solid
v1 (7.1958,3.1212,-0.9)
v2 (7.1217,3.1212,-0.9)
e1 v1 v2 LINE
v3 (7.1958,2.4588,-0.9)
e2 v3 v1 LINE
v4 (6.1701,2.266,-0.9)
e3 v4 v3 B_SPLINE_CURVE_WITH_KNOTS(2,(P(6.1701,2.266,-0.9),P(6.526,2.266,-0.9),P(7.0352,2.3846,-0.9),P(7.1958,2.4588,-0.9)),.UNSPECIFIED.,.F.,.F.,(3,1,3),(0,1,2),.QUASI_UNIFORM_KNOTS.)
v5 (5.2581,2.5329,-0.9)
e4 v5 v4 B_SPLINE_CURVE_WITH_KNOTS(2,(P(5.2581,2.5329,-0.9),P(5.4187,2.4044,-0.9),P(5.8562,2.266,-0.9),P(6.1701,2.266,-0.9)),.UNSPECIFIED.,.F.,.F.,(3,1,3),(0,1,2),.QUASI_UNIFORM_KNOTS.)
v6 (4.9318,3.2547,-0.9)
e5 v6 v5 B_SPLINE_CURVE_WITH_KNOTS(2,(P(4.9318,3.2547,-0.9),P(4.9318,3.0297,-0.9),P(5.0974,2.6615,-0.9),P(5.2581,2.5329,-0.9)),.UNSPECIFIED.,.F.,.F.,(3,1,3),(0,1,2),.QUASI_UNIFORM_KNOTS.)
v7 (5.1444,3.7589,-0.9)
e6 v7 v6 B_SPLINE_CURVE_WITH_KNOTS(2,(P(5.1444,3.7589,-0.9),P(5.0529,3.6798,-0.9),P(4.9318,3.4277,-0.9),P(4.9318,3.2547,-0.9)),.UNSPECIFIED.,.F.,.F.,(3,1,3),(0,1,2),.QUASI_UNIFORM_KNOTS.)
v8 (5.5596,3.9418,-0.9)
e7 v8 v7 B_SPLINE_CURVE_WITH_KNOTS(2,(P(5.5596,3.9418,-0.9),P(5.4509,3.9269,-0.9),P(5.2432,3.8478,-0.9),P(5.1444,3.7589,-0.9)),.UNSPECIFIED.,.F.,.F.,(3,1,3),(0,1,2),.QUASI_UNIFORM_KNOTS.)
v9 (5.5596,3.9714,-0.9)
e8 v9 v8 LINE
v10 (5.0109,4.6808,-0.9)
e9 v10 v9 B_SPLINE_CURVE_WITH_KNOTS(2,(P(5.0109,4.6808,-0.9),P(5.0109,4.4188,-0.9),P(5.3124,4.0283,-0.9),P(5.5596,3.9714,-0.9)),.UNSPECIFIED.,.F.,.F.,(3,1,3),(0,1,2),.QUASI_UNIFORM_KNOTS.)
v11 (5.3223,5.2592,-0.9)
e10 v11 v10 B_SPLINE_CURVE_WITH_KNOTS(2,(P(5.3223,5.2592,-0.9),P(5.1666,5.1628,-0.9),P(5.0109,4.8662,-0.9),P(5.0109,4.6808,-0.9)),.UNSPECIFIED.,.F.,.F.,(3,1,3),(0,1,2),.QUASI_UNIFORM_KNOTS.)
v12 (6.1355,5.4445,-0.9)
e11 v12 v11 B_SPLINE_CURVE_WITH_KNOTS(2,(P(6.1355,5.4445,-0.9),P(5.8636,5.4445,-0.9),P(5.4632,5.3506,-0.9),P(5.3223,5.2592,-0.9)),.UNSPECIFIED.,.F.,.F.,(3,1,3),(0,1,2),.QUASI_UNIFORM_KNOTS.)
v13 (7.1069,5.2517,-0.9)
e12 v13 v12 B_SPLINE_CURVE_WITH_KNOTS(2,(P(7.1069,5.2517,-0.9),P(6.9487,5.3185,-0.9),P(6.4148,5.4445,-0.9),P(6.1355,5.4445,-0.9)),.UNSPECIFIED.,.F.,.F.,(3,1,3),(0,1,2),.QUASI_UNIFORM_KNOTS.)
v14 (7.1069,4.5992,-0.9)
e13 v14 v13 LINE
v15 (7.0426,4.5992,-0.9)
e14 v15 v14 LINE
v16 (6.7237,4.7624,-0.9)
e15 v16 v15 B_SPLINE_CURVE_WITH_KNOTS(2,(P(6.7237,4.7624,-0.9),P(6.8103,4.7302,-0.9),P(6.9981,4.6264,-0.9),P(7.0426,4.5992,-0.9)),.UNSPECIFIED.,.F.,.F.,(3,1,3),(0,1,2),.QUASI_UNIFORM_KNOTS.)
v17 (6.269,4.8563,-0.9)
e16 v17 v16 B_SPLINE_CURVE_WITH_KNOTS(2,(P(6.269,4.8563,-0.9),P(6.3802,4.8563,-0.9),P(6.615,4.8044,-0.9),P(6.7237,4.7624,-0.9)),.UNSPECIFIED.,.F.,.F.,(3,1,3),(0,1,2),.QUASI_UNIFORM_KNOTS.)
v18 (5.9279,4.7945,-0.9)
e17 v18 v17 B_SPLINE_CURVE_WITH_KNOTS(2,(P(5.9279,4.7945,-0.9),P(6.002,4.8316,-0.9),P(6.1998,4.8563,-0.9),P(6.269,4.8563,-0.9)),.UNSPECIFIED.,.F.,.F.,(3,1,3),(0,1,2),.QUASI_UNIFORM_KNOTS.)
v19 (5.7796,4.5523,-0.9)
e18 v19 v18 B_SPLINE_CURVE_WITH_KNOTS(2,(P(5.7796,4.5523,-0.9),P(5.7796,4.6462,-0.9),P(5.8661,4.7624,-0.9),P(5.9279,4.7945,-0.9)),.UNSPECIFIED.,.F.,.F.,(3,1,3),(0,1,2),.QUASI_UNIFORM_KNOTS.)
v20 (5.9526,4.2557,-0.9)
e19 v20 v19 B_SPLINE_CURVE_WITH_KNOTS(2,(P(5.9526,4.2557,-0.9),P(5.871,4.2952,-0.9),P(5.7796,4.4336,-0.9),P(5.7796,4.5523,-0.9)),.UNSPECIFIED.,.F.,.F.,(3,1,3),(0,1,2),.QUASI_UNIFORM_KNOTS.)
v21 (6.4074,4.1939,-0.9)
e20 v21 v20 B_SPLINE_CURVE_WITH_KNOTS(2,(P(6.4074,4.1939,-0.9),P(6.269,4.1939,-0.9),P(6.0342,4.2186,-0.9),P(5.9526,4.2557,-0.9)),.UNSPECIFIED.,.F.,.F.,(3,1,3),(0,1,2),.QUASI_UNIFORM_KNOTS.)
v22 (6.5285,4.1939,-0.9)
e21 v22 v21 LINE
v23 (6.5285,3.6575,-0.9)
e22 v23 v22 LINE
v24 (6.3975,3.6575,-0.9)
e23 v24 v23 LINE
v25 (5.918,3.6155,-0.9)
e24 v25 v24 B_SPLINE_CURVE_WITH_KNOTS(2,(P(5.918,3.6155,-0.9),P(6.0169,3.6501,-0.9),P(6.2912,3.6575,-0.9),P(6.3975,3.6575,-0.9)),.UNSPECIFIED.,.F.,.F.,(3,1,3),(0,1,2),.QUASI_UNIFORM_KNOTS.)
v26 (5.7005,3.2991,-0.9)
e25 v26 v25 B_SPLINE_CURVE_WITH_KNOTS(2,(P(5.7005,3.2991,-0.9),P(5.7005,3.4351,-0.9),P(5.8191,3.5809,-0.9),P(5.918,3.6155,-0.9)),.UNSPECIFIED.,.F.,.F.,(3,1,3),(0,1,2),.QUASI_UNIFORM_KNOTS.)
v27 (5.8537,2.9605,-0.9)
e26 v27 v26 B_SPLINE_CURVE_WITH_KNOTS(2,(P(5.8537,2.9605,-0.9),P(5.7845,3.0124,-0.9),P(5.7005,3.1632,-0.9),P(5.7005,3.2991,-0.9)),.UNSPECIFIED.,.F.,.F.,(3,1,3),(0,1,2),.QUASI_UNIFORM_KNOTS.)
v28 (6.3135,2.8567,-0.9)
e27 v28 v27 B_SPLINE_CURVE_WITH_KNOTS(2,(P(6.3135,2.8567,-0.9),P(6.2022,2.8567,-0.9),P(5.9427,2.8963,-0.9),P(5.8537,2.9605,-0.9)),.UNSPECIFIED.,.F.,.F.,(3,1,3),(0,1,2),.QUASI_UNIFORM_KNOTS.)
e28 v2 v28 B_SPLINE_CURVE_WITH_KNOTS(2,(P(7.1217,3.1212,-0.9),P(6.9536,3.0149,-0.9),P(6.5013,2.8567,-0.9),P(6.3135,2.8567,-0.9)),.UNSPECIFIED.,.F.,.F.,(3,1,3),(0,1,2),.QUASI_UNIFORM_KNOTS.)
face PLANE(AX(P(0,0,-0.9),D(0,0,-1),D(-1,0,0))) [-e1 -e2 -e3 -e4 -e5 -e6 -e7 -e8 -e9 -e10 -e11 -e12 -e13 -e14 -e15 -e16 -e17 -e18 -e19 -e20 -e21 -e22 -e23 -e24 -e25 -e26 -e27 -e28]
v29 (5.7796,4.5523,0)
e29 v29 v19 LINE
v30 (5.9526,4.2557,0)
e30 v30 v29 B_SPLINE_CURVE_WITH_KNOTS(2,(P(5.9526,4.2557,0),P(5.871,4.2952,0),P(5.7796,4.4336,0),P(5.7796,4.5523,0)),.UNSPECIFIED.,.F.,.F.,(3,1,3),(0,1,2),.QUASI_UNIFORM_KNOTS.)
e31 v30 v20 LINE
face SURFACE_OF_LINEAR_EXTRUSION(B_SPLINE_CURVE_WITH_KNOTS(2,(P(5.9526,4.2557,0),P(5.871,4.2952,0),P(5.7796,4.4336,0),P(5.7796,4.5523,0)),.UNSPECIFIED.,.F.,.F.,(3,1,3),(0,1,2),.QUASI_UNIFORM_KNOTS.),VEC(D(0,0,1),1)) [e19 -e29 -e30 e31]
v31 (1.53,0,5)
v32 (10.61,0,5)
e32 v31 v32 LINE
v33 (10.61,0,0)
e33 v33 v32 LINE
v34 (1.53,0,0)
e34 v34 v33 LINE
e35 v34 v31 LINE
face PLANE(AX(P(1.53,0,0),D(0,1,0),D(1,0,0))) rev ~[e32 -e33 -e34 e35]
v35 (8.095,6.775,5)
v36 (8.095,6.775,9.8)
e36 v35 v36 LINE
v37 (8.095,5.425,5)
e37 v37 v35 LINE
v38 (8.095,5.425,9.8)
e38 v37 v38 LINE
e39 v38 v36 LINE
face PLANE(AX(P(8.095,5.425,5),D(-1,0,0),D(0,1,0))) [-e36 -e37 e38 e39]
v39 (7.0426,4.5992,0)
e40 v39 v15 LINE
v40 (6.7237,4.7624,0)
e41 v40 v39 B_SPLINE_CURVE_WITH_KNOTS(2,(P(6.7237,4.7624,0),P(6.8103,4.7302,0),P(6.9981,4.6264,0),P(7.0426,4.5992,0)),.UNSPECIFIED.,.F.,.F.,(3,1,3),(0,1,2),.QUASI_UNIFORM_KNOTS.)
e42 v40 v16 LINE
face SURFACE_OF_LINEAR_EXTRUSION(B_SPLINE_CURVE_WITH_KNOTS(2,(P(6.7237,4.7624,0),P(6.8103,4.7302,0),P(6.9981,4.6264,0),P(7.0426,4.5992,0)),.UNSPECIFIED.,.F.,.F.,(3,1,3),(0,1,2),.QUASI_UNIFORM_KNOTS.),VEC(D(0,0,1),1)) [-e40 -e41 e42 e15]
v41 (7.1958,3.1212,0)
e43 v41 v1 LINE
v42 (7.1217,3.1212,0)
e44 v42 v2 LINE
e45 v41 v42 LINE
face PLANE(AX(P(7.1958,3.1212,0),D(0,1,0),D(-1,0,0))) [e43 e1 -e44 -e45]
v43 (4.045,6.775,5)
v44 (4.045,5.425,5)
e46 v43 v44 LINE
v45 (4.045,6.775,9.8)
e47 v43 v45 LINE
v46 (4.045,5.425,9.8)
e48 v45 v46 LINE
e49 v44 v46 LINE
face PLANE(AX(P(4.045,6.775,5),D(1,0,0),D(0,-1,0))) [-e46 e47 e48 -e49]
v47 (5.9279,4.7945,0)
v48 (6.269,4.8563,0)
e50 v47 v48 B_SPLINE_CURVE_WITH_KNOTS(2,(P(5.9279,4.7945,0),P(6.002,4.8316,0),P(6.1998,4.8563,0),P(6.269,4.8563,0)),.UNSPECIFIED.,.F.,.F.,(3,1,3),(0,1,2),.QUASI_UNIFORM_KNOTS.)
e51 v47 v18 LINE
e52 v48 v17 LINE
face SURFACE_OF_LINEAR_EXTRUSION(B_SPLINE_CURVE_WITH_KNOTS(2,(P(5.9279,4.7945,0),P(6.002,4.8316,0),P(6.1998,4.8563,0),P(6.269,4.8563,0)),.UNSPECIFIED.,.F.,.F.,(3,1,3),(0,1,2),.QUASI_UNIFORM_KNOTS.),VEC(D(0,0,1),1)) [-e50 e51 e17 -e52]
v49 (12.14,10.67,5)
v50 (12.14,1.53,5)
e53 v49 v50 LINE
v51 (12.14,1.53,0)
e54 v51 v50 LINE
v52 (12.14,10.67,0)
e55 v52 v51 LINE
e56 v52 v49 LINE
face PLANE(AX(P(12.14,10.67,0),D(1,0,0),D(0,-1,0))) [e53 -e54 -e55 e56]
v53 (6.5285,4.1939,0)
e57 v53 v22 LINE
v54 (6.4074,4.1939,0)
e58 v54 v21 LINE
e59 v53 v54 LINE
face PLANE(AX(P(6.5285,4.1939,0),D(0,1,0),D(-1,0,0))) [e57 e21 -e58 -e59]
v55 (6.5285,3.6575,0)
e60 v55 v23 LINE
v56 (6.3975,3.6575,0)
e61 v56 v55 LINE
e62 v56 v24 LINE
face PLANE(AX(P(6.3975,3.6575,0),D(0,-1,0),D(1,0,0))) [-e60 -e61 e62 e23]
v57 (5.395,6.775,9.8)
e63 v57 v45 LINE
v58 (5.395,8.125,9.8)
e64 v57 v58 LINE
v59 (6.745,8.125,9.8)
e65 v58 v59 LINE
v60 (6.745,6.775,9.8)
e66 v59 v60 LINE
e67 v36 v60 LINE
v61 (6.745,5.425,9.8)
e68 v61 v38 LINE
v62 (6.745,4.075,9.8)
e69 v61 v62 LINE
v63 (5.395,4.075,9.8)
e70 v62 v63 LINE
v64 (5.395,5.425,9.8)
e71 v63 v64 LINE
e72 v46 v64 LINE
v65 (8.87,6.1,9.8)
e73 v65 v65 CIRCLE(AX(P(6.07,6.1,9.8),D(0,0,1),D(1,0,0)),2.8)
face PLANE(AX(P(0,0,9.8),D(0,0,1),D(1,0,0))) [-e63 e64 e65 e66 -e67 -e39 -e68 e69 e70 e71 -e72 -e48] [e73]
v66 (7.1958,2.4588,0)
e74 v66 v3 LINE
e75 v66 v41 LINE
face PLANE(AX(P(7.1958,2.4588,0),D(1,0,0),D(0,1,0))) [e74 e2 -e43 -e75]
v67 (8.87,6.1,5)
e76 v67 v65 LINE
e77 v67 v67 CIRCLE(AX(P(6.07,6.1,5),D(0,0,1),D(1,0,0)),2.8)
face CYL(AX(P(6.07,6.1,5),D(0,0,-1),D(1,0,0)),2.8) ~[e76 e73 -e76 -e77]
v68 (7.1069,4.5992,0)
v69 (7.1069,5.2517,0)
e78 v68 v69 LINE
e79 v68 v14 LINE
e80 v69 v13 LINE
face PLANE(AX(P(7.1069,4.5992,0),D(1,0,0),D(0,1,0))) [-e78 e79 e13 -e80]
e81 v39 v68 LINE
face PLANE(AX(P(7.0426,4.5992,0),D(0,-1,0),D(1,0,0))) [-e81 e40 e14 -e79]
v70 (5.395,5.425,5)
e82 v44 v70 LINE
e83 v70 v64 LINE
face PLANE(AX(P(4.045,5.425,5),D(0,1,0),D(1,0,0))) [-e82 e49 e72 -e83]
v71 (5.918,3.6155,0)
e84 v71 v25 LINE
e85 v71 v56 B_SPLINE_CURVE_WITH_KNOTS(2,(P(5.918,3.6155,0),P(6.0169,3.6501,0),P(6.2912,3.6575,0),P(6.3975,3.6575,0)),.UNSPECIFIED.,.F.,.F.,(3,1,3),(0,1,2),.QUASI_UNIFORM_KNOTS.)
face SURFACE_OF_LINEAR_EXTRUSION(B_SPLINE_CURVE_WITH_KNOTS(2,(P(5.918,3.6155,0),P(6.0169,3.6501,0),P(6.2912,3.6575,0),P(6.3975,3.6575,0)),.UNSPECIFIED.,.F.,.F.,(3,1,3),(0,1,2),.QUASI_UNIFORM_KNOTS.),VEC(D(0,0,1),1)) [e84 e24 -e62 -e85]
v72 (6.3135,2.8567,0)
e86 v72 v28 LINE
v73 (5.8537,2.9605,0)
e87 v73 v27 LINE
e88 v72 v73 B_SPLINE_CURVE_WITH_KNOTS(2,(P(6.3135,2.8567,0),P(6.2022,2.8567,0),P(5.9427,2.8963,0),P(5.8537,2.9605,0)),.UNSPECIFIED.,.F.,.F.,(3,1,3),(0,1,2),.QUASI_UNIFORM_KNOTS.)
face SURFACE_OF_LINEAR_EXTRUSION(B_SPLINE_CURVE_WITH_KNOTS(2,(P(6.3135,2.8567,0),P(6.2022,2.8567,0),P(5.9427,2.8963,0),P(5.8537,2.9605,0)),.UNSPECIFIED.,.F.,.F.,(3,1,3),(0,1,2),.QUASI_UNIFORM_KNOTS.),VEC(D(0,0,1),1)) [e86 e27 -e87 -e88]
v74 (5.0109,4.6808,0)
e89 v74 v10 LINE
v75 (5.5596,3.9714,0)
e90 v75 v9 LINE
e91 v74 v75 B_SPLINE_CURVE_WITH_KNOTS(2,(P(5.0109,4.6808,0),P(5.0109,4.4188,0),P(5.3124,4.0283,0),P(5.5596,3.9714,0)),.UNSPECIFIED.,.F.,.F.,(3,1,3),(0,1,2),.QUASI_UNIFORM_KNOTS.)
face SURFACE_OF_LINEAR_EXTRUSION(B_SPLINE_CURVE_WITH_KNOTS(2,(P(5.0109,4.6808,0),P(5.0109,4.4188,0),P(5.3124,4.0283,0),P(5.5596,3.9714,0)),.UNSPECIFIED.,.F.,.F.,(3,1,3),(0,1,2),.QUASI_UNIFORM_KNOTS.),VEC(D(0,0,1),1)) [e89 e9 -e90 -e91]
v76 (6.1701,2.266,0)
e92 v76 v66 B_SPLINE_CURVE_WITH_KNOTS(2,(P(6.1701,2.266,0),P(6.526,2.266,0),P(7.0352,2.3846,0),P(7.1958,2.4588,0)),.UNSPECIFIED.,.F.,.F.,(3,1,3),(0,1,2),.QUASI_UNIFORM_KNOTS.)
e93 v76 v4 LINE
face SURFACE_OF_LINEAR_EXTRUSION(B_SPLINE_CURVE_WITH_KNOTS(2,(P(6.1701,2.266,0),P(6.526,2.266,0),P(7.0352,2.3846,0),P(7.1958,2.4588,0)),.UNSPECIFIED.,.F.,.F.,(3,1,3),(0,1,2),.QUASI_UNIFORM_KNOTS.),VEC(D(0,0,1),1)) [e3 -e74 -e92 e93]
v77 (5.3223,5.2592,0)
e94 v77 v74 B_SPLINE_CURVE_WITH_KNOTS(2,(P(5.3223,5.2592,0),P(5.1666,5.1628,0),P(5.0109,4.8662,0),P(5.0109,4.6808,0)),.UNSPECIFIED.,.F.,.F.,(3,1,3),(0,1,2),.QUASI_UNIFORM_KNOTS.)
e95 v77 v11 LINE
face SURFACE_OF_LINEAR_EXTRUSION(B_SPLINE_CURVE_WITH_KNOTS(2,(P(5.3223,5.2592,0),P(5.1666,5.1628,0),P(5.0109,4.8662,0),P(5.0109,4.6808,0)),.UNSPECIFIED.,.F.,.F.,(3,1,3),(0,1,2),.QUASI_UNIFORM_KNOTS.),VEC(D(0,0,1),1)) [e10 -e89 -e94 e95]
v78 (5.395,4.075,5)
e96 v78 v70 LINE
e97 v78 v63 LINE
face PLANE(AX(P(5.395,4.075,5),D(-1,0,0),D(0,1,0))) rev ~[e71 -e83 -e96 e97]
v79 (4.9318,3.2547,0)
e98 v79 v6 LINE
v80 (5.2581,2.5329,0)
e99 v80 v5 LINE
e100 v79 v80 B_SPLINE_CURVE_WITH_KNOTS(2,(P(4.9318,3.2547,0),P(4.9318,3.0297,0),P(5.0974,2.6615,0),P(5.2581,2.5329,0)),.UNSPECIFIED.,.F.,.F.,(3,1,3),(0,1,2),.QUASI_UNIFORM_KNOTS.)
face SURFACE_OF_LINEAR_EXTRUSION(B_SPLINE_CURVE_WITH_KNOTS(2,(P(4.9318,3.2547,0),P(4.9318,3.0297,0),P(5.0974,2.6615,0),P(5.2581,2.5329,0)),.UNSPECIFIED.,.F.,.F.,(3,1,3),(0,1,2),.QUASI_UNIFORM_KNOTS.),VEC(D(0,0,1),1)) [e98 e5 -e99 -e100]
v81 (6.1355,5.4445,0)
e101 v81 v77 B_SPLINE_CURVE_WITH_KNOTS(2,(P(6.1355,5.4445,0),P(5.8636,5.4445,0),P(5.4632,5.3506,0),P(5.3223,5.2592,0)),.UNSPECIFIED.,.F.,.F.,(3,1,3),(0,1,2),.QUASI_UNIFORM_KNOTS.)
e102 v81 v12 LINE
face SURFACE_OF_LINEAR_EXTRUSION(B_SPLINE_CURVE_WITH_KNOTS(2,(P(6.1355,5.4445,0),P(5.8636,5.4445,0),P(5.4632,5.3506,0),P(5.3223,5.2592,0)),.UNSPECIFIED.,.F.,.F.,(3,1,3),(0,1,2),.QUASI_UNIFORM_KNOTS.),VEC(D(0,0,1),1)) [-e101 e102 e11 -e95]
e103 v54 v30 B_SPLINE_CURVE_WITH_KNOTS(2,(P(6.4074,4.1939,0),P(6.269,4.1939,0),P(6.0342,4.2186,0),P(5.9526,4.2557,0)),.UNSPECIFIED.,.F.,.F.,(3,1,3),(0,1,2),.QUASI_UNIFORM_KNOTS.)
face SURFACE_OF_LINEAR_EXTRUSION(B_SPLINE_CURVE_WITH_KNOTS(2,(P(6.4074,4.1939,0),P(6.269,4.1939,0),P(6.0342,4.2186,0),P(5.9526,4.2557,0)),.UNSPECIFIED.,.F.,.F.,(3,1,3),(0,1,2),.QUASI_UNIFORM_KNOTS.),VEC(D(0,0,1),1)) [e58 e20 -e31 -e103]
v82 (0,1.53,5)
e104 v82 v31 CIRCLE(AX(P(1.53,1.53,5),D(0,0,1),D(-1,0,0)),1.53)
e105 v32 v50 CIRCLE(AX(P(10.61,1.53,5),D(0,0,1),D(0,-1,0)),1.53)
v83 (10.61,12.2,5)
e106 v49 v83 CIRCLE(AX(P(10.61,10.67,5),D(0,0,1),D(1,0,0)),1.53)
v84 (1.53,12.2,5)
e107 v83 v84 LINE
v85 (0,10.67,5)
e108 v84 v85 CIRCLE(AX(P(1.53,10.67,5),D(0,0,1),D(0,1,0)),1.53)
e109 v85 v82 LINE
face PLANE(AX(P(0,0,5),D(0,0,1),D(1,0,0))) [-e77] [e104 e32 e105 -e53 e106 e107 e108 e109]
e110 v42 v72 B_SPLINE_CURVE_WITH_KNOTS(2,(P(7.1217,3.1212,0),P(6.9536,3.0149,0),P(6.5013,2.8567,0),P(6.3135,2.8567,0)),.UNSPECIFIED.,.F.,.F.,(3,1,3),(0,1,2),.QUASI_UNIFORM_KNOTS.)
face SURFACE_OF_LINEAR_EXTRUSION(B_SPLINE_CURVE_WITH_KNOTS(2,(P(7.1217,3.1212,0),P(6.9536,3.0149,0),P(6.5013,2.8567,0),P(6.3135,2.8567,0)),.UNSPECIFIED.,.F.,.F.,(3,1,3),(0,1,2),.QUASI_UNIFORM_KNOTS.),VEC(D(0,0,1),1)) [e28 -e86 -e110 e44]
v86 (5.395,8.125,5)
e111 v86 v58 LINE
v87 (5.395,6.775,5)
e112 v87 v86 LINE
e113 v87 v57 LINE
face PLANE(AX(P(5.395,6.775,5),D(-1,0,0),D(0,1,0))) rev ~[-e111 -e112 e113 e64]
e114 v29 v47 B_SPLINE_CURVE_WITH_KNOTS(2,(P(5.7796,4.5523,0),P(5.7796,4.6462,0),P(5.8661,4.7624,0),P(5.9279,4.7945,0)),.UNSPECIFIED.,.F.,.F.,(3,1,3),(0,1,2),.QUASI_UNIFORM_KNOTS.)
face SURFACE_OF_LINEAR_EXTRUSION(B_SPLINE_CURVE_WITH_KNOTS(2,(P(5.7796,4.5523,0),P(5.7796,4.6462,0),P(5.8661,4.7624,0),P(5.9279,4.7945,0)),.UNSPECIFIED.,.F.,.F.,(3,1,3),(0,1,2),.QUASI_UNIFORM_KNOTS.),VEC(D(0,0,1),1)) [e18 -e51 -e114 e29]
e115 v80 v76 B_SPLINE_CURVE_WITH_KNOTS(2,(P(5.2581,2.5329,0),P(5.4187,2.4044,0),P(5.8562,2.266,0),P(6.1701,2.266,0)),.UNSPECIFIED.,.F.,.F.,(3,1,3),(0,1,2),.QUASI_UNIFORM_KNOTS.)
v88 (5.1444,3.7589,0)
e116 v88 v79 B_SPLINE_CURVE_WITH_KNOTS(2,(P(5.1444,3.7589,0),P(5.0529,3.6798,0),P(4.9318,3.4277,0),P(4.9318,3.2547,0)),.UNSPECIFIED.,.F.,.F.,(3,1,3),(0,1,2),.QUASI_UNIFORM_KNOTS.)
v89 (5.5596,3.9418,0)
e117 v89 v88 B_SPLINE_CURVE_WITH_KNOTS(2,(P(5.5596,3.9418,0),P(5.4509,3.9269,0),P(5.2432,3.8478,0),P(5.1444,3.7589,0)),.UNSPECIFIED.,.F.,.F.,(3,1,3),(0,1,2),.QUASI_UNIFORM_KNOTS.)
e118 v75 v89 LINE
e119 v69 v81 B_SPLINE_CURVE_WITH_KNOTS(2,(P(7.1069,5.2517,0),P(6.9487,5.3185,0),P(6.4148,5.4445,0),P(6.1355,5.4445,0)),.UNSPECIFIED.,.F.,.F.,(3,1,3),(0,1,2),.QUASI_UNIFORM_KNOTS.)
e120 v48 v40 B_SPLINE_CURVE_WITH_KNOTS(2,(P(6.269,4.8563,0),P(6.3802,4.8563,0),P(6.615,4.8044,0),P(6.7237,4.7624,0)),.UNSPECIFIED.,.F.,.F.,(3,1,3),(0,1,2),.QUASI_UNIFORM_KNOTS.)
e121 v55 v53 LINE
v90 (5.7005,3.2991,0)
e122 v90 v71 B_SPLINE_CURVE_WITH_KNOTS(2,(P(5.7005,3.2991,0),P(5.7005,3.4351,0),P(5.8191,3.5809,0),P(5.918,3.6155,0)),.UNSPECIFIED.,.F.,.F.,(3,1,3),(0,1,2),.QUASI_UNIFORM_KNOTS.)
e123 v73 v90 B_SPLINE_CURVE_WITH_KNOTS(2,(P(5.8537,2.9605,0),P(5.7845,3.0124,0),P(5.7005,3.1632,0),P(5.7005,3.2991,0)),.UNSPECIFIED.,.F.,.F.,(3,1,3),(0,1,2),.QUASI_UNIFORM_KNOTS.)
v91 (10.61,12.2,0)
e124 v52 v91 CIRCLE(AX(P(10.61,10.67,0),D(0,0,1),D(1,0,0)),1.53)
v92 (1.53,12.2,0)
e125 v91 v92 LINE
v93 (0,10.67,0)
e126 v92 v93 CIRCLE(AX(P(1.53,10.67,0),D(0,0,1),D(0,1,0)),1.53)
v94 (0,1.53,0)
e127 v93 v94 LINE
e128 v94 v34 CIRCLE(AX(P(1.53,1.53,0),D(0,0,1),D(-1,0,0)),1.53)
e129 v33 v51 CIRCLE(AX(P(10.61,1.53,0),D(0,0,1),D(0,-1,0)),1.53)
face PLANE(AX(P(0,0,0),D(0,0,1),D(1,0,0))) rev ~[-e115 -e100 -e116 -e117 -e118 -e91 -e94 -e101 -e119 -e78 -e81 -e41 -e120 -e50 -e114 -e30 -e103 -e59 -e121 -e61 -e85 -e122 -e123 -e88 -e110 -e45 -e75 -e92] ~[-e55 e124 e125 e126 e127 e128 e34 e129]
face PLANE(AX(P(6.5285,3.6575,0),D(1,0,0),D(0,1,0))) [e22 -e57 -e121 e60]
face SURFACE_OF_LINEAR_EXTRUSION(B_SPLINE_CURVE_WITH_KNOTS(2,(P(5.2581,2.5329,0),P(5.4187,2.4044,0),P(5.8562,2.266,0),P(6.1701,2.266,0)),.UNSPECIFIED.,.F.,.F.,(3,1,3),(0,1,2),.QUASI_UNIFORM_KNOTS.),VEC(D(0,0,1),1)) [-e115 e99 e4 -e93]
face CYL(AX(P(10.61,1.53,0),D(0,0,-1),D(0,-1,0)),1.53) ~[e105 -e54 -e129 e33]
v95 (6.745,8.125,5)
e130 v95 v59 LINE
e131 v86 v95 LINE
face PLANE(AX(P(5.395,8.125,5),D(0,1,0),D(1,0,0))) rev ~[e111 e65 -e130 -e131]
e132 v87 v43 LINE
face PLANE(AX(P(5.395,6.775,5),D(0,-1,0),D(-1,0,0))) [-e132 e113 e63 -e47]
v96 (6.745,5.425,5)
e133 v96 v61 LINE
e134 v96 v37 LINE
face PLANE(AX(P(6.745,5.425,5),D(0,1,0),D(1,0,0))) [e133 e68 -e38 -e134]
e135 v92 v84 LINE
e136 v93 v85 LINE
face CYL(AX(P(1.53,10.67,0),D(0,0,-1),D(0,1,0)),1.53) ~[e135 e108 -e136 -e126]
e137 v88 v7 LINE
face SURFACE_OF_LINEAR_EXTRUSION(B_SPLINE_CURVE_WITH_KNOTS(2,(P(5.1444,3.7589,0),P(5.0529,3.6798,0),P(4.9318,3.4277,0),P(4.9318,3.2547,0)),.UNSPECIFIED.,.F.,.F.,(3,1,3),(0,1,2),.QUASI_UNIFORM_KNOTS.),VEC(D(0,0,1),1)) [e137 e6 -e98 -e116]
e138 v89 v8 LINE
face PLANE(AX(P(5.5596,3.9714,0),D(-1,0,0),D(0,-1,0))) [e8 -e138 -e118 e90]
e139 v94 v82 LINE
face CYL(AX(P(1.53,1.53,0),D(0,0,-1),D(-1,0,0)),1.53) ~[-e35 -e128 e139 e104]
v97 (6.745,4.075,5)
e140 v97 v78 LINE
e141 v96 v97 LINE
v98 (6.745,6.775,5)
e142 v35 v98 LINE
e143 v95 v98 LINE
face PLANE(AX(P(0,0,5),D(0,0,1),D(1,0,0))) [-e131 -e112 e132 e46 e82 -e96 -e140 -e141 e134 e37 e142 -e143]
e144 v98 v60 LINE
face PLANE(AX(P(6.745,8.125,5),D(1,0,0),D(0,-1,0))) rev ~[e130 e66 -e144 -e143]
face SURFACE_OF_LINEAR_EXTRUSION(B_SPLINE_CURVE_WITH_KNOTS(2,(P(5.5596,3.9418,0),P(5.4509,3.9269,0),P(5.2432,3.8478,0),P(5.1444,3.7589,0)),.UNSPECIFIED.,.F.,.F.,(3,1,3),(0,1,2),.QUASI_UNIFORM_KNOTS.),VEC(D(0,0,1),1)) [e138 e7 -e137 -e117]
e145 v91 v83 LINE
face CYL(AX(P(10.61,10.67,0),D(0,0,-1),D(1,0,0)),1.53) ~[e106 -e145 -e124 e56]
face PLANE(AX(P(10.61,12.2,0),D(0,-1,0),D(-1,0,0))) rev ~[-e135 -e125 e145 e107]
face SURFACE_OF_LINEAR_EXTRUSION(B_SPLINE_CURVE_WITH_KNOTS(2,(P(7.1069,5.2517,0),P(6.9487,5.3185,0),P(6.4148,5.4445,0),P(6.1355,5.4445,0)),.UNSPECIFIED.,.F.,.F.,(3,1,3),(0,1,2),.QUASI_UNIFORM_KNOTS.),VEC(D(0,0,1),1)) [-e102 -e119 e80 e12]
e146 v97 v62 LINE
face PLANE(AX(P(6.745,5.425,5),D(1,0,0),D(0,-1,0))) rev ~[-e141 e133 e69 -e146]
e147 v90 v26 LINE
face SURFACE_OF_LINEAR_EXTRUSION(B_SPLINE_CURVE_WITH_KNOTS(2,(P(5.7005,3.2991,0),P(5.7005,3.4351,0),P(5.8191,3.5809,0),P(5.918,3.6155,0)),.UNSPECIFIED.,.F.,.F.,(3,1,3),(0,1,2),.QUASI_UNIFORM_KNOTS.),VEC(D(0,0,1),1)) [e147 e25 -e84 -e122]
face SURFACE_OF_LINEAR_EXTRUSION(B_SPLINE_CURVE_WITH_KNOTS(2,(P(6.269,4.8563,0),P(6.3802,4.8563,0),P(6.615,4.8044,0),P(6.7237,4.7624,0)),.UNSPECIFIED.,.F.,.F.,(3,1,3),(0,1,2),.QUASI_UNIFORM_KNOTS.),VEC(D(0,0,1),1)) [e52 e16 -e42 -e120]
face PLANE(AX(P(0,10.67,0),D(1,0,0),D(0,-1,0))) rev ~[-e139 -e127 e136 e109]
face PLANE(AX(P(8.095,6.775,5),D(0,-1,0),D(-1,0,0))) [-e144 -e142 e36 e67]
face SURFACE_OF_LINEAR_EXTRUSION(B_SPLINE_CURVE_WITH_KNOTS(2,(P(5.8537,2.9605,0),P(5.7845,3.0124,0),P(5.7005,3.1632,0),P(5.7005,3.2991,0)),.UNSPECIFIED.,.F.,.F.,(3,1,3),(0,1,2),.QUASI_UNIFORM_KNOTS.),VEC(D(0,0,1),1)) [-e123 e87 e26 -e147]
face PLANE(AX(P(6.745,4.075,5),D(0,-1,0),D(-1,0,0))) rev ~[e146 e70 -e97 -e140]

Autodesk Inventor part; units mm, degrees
ref_plane "YZ Plane" through (0, 0, 0) normal (1, 0, 0) x (0, 1, 0)
ref_plane "XZ Plane" through (0, 0, 0) normal (0, 1, 0) x (-1, 0, 0)
sketch "Sketch1" plane through (0, 0, 0) normal (0, 0, 1) x (1, 0, 0)
  line L0 (14.6962, 12.74) -> (14.6962, 0) construction
  line L1 (10.61, 12.2) -> (1.53, 12.2)
  arc A0 (1.53, 12.2) -> (0, 10.67) centre (1.53, 10.67) ccw
  line L2 (0, 10.67) -> (0, 1.53)
  arc A1 (0, 1.53) -> (1.53, 0) centre (1.53, 1.53) ccw
  line L3 (1.53, 0) -> (10.61, 0)
  arc A2 (10.61, 0) -> (12.14, 1.53) centre (10.61, 1.53) ccw
  arc A3 (12.14, 10.67) -> (10.61, 12.2) centre (10.61, 10.67) ccw
  line L4 (12.14, 10.67) -> (12.14, 1.53)
  point P0 (0, 0)
  point P1 (0, 0)
  dimension "d10" = 12.74
ref_plane "Work Plane1" through (0, 0, 5) normal (0, 0, 1) x (1, 0, 0)
sketch "Sketch2" plane through (0, 0, 5) normal (0, 0, 1) x (1, 0, 0)
  line L0 (10.88, 12.74) -> (1.8, 12.74) projected
  line L1 (10.88, 12.74) -> (1.8, 12.74) projected
  arc A0 (1.8, 12.74) -> (0, 10.94) centre (1.8, 10.94) ccw projected
  line L2 (0, 10.94) -> (0, 1.8) projected
  arc A1 (0, 1.8) -> (1.8, 0) centre (1.8, 1.8) ccw projected
  line L3 (1.8, 0) -> (10.88, 0) projected
  arc A2 (10.88, 0) -> (12.68, 1.8) centre (10.88, 1.8) ccw projected
  line L4 (12.68, 1.8) -> (12.68, 10.94) projected
  arc A3 (12.68, 10.94) -> (10.88, 12.74) centre (10.88, 10.94) ccw projected
  circle A4 centre (6.34, 6.37) radius 2.8
  line L5 (5.665, 8.395) -> (7.015, 8.395)
  line L6 (7.015, 4.345) -> (5.665, 4.345)
  line L7 (5.665, 4.345) -> (7.015, 8.395) construction
  line L8 (5.665, 8.395) -> (7.015, 4.345) construction
  line L9 (8.365, 5.695) -> (8.365, 7.045)
  line L10 (4.315, 7.045) -> (4.315, 5.695)
  line L11 (4.315, 5.695) -> (8.365, 7.045) construction
  line L12 (8.365, 5.695) -> (4.315, 7.045) construction
  line L13 (4.315, 5.695) -> (5.665, 5.695)
  line L14 (7.015, 5.695) -> (8.365, 5.695)
  line L15 (5.665, 4.345) -> (5.665, 5.695)
  line L16 (5.665, 7.045) -> (5.665, 8.395)
  line L17 (8.365, 7.045) -> (7.015, 7.045)
  line L18 (5.665, 7.045) -> (4.315, 7.045)
  line L19 (7.015, 8.395) -> (7.015, 7.045)
  line L20 (7.015, 5.695) -> (7.015, 4.345)
  point P0 (0, 0)
  dimension "d3" = 5.6
  dimension "d4" = 4.05
  dimension "d5" = 1.35
  dimension "d6" = 4.05
  dimension "d7" = 1.35
extrude "Extrusion3" add sketch "Sketch1" along normal blind 5
sketch "Sketch3" plane through (0, 0, 5) normal (0, 0, 1) x (1, 0, 0)
  line L0 (10.61, 12.47) -> (1.53, 12.47)
  line L1 (10.61, 12.47) -> (1.53, 12.47)
  arc A0 (1.53, 12.47) -> (-0.27, 10.67) centre (1.53, 10.67) ccw
  line L2 (-0.27, 10.67) -> (-0.27, 1.53)
  arc A1 (-0.27, 1.53) -> (1.53, -0.27) centre (1.53, 1.53) ccw
  line L3 (1.53, -0.27) -> (10.61, -0.27)
  arc A2 (10.61, -0.27) -> (12.41, 1.53) centre (10.61, 1.53) ccw
  line L4 (12.41, 1.53) -> (12.41, 10.67)
  arc A3 (12.41, 10.67) -> (10.61, 12.47) centre (10.61, 10.67) ccw
  circle A4 centre (6.07, 6.1) radius 2.8
  line L5 (5.395, 8.125) -> (6.745, 8.125)
  line L6 (6.745, 4.075) -> (5.395, 4.075)
  line L7 (5.395, 4.075) -> (6.745, 8.125) construction
  line L8 (5.395, 8.125) -> (6.745, 4.075) construction
  line L9 (8.095, 5.425) -> (8.095, 6.775)
  line L10 (4.045, 6.775) -> (4.045, 5.425)
  line L11 (4.045, 5.425) -> (8.095, 6.775) construction
  line L12 (8.095, 5.425) -> (4.045, 6.775) construction
  line L13 (4.045, 5.425) -> (5.395, 5.425)
  line L14 (6.745, 5.425) -> (8.095, 5.425)
  line L15 (5.395, 4.075) -> (5.395, 5.425)
  line L16 (5.395, 6.775) -> (5.395, 8.125)
  line L17 (8.095, 6.775) -> (6.745, 6.775)
  line L18 (5.395, 6.775) -> (4.045, 6.775)
  line L19 (6.745, 8.125) -> (6.745, 6.775)
  line L20 (6.745, 5.425) -> (6.745, 4.075)
  line L21 (10.61, 12.2) -> (1.53, 12.2) projected
  line L22 (0, 10.67) -> (0, 1.53) projected
  point P0 (0, 0)
  point P1 (-0.27, -0.27)
  point P2 (6.07, 12.2)
  point P3 (0, 6.1)
  point P4 (6.07, 6.1)
  dimension "d14" = 5.6
  dimension "d15" = 4.05
  dimension "d16" = 1.35
  dimension "d17" = 4.05
  dimension "d18" = 1.35
extrude "Extrusion4" add sketch "Sketch3" along normal blind 4.8 contours A4
sketch "Sketch4" plane through (0, 0, 0) normal (0, 0, -1) x (-1, 0, 0)
  line L0 (-13.9436, 0) -> (-13.9436, 2.266)
  line L1 (-15.5559, 0) -> (-15.5559, 6.84)
  line L2 (-1.53, 0) -> (-10.61, 0) projected
  line L3 (-7.4059, 5.4445) -> (-4.7341, 5.4445) construction
  line L4 (-4.7341, 5.4445) -> (-4.7341, 2.266) construction
  line L5 (-4.7341, 2.266) -> (-7.4059, 2.266) construction
  line L6 (-7.4059, 2.266) -> (-7.4059, 5.4445) construction
  spline S0 degree 2 poles (-4.9318, 3.2547) (-4.9318, 3.0297) (-5.0974, 2.6615) (-5.2581, 2.5329) knots 0 0 0 1 2 2 2
  spline S1 degree 2 poles (-5.2581, 2.5329) (-5.4187, 2.4044) (-5.8562, 2.266) (-6.1701, 2.266) knots 0 0 0 1 2 2 2
  spline S2 degree 2 poles (-6.1701, 2.266) (-6.526, 2.266) (-7.0352, 2.3846) (-7.1958, 2.4588) knots 0 0 0 1 2 2 2
  line L7 (-7.1958, 2.4588) -> (-7.1958, 3.1212)
  line L8 (-7.1958, 3.1212) -> (-7.1217, 3.1212)
  spline S3 degree 2 poles (-7.1217, 3.1212) (-6.9536, 3.0149) (-6.5013, 2.8567) (-6.3135, 2.8567) knots 0 0 0 1 2 2 2
  spline S4 degree 2 poles (-6.3135, 2.8567) (-6.2022, 2.8567) (-5.9427, 2.8963) (-5.8537, 2.9605) knots 0 0 0 1 2 2 2
  spline S5 degree 2 poles (-5.8537, 2.9605) (-5.7845, 3.0124) (-5.7005, 3.1632) (-5.7005, 3.2991) knots 0 0 0 1 2 2 2
  spline S6 degree 2 poles (-5.7005, 3.2991) (-5.7005, 3.4351) (-5.8191, 3.5809) (-5.918, 3.6155) knots 0 0 0 1 2 2 2
  spline S7 degree 2 poles (-5.918, 3.6155) (-6.0169, 3.6501) (-6.2912, 3.6575) (-6.3975, 3.6575) knots 0 0 0 1 2 2 2
  line L9 (-6.3975, 3.6575) -> (-6.5285, 3.6575)
  line L10 (-6.5285, 3.6575) -> (-6.5285, 4.1939)
  line L11 (-6.5285, 4.1939) -> (-6.4074, 4.1939)
  spline S8 degree 2 poles (-6.4074, 4.1939) (-6.269, 4.1939) (-6.0342, 4.2186) (-5.9526, 4.2557) knots 0 0 0 1 2 2 2
  spline S9 degree 2 poles (-5.9526, 4.2557) (-5.871, 4.2952) (-5.7796, 4.4336) (-5.7796, 4.5523) knots 0 0 0 1 2 2 2
  spline S10 degree 2 poles (-5.7796, 4.5523) (-5.7796, 4.6462) (-5.8661, 4.7624) (-5.9279, 4.7945) knots 0 0 0 1 2 2 2
  spline S11 degree 2 poles (-5.9279, 4.7945) (-6.002, 4.8316) (-6.1998, 4.8563) (-6.269, 4.8563) knots 0 0 0 1 2 2 2
  spline S12 degree 2 poles (-6.269, 4.8563) (-6.3802, 4.8563) (-6.615, 4.8044) (-6.7237, 4.7624) knots 0 0 0 1 2 2 2
  spline S13 degree 2 poles (-6.7237, 4.7624) (-6.8103, 4.7302) (-6.9981, 4.6264) (-7.0426, 4.5992) knots 0 0 0 1 2 2 2
  line L12 (-7.0426, 4.5992) -> (-7.1069, 4.5992)
  line L13 (-7.1069, 4.5992) -> (-7.1069, 5.2517)
  spline S14 degree 2 poles (-7.1069, 5.2517) (-6.9487, 5.3185) (-6.4148, 5.4445) (-6.1355, 5.4445) knots 0 0 0 1 2 2 2
  spline S15 degree 2 poles (-6.1355, 5.4445) (-5.8636, 5.4445) (-5.4632, 5.3506) (-5.3223, 5.2592) knots 0 0 0 1 2 2 2
  spline S16 degree 2 poles (-5.3223, 5.2592) (-5.1666, 5.1628) (-5.0109, 4.8662) (-5.0109, 4.6808) knots 0 0 0 1 2 2 2
  spline S17 degree 2 poles (-5.0109, 4.6808) (-5.0109, 4.4188) (-5.3124, 4.0283) (-5.5596, 3.9714) knots 0 0 0 1 2 2 2
  line L14 (-5.5596, 3.9714) -> (-5.5596, 3.9418)
  spline S18 degree 2 poles (-5.5596, 3.9418) (-5.4509, 3.9269) (-5.2432, 3.8478) (-5.1444, 3.7589) knots 0 0 0 1 2 2 2
  spline S19 degree 2 poles (-5.1444, 3.7589) (-5.0529, 3.6798) (-4.9318, 3.4277) (-4.9318, 3.2547) knots 0 0 0 1 2 2 2
  point P0 (0, 0)
  point P1 (-6.07, 0)
  point P2 (-6.07, 2.266)
  point P3 (-6.07, 6.84)
  point P4 (-6.07, 2.266)
  dimension "d21" = 2.266
  dimension "d22" = 6.84
extrude "Extrusion5" add sketch "Sketch4" along normal blind 0.9
properties part number "IPC 3 key"
